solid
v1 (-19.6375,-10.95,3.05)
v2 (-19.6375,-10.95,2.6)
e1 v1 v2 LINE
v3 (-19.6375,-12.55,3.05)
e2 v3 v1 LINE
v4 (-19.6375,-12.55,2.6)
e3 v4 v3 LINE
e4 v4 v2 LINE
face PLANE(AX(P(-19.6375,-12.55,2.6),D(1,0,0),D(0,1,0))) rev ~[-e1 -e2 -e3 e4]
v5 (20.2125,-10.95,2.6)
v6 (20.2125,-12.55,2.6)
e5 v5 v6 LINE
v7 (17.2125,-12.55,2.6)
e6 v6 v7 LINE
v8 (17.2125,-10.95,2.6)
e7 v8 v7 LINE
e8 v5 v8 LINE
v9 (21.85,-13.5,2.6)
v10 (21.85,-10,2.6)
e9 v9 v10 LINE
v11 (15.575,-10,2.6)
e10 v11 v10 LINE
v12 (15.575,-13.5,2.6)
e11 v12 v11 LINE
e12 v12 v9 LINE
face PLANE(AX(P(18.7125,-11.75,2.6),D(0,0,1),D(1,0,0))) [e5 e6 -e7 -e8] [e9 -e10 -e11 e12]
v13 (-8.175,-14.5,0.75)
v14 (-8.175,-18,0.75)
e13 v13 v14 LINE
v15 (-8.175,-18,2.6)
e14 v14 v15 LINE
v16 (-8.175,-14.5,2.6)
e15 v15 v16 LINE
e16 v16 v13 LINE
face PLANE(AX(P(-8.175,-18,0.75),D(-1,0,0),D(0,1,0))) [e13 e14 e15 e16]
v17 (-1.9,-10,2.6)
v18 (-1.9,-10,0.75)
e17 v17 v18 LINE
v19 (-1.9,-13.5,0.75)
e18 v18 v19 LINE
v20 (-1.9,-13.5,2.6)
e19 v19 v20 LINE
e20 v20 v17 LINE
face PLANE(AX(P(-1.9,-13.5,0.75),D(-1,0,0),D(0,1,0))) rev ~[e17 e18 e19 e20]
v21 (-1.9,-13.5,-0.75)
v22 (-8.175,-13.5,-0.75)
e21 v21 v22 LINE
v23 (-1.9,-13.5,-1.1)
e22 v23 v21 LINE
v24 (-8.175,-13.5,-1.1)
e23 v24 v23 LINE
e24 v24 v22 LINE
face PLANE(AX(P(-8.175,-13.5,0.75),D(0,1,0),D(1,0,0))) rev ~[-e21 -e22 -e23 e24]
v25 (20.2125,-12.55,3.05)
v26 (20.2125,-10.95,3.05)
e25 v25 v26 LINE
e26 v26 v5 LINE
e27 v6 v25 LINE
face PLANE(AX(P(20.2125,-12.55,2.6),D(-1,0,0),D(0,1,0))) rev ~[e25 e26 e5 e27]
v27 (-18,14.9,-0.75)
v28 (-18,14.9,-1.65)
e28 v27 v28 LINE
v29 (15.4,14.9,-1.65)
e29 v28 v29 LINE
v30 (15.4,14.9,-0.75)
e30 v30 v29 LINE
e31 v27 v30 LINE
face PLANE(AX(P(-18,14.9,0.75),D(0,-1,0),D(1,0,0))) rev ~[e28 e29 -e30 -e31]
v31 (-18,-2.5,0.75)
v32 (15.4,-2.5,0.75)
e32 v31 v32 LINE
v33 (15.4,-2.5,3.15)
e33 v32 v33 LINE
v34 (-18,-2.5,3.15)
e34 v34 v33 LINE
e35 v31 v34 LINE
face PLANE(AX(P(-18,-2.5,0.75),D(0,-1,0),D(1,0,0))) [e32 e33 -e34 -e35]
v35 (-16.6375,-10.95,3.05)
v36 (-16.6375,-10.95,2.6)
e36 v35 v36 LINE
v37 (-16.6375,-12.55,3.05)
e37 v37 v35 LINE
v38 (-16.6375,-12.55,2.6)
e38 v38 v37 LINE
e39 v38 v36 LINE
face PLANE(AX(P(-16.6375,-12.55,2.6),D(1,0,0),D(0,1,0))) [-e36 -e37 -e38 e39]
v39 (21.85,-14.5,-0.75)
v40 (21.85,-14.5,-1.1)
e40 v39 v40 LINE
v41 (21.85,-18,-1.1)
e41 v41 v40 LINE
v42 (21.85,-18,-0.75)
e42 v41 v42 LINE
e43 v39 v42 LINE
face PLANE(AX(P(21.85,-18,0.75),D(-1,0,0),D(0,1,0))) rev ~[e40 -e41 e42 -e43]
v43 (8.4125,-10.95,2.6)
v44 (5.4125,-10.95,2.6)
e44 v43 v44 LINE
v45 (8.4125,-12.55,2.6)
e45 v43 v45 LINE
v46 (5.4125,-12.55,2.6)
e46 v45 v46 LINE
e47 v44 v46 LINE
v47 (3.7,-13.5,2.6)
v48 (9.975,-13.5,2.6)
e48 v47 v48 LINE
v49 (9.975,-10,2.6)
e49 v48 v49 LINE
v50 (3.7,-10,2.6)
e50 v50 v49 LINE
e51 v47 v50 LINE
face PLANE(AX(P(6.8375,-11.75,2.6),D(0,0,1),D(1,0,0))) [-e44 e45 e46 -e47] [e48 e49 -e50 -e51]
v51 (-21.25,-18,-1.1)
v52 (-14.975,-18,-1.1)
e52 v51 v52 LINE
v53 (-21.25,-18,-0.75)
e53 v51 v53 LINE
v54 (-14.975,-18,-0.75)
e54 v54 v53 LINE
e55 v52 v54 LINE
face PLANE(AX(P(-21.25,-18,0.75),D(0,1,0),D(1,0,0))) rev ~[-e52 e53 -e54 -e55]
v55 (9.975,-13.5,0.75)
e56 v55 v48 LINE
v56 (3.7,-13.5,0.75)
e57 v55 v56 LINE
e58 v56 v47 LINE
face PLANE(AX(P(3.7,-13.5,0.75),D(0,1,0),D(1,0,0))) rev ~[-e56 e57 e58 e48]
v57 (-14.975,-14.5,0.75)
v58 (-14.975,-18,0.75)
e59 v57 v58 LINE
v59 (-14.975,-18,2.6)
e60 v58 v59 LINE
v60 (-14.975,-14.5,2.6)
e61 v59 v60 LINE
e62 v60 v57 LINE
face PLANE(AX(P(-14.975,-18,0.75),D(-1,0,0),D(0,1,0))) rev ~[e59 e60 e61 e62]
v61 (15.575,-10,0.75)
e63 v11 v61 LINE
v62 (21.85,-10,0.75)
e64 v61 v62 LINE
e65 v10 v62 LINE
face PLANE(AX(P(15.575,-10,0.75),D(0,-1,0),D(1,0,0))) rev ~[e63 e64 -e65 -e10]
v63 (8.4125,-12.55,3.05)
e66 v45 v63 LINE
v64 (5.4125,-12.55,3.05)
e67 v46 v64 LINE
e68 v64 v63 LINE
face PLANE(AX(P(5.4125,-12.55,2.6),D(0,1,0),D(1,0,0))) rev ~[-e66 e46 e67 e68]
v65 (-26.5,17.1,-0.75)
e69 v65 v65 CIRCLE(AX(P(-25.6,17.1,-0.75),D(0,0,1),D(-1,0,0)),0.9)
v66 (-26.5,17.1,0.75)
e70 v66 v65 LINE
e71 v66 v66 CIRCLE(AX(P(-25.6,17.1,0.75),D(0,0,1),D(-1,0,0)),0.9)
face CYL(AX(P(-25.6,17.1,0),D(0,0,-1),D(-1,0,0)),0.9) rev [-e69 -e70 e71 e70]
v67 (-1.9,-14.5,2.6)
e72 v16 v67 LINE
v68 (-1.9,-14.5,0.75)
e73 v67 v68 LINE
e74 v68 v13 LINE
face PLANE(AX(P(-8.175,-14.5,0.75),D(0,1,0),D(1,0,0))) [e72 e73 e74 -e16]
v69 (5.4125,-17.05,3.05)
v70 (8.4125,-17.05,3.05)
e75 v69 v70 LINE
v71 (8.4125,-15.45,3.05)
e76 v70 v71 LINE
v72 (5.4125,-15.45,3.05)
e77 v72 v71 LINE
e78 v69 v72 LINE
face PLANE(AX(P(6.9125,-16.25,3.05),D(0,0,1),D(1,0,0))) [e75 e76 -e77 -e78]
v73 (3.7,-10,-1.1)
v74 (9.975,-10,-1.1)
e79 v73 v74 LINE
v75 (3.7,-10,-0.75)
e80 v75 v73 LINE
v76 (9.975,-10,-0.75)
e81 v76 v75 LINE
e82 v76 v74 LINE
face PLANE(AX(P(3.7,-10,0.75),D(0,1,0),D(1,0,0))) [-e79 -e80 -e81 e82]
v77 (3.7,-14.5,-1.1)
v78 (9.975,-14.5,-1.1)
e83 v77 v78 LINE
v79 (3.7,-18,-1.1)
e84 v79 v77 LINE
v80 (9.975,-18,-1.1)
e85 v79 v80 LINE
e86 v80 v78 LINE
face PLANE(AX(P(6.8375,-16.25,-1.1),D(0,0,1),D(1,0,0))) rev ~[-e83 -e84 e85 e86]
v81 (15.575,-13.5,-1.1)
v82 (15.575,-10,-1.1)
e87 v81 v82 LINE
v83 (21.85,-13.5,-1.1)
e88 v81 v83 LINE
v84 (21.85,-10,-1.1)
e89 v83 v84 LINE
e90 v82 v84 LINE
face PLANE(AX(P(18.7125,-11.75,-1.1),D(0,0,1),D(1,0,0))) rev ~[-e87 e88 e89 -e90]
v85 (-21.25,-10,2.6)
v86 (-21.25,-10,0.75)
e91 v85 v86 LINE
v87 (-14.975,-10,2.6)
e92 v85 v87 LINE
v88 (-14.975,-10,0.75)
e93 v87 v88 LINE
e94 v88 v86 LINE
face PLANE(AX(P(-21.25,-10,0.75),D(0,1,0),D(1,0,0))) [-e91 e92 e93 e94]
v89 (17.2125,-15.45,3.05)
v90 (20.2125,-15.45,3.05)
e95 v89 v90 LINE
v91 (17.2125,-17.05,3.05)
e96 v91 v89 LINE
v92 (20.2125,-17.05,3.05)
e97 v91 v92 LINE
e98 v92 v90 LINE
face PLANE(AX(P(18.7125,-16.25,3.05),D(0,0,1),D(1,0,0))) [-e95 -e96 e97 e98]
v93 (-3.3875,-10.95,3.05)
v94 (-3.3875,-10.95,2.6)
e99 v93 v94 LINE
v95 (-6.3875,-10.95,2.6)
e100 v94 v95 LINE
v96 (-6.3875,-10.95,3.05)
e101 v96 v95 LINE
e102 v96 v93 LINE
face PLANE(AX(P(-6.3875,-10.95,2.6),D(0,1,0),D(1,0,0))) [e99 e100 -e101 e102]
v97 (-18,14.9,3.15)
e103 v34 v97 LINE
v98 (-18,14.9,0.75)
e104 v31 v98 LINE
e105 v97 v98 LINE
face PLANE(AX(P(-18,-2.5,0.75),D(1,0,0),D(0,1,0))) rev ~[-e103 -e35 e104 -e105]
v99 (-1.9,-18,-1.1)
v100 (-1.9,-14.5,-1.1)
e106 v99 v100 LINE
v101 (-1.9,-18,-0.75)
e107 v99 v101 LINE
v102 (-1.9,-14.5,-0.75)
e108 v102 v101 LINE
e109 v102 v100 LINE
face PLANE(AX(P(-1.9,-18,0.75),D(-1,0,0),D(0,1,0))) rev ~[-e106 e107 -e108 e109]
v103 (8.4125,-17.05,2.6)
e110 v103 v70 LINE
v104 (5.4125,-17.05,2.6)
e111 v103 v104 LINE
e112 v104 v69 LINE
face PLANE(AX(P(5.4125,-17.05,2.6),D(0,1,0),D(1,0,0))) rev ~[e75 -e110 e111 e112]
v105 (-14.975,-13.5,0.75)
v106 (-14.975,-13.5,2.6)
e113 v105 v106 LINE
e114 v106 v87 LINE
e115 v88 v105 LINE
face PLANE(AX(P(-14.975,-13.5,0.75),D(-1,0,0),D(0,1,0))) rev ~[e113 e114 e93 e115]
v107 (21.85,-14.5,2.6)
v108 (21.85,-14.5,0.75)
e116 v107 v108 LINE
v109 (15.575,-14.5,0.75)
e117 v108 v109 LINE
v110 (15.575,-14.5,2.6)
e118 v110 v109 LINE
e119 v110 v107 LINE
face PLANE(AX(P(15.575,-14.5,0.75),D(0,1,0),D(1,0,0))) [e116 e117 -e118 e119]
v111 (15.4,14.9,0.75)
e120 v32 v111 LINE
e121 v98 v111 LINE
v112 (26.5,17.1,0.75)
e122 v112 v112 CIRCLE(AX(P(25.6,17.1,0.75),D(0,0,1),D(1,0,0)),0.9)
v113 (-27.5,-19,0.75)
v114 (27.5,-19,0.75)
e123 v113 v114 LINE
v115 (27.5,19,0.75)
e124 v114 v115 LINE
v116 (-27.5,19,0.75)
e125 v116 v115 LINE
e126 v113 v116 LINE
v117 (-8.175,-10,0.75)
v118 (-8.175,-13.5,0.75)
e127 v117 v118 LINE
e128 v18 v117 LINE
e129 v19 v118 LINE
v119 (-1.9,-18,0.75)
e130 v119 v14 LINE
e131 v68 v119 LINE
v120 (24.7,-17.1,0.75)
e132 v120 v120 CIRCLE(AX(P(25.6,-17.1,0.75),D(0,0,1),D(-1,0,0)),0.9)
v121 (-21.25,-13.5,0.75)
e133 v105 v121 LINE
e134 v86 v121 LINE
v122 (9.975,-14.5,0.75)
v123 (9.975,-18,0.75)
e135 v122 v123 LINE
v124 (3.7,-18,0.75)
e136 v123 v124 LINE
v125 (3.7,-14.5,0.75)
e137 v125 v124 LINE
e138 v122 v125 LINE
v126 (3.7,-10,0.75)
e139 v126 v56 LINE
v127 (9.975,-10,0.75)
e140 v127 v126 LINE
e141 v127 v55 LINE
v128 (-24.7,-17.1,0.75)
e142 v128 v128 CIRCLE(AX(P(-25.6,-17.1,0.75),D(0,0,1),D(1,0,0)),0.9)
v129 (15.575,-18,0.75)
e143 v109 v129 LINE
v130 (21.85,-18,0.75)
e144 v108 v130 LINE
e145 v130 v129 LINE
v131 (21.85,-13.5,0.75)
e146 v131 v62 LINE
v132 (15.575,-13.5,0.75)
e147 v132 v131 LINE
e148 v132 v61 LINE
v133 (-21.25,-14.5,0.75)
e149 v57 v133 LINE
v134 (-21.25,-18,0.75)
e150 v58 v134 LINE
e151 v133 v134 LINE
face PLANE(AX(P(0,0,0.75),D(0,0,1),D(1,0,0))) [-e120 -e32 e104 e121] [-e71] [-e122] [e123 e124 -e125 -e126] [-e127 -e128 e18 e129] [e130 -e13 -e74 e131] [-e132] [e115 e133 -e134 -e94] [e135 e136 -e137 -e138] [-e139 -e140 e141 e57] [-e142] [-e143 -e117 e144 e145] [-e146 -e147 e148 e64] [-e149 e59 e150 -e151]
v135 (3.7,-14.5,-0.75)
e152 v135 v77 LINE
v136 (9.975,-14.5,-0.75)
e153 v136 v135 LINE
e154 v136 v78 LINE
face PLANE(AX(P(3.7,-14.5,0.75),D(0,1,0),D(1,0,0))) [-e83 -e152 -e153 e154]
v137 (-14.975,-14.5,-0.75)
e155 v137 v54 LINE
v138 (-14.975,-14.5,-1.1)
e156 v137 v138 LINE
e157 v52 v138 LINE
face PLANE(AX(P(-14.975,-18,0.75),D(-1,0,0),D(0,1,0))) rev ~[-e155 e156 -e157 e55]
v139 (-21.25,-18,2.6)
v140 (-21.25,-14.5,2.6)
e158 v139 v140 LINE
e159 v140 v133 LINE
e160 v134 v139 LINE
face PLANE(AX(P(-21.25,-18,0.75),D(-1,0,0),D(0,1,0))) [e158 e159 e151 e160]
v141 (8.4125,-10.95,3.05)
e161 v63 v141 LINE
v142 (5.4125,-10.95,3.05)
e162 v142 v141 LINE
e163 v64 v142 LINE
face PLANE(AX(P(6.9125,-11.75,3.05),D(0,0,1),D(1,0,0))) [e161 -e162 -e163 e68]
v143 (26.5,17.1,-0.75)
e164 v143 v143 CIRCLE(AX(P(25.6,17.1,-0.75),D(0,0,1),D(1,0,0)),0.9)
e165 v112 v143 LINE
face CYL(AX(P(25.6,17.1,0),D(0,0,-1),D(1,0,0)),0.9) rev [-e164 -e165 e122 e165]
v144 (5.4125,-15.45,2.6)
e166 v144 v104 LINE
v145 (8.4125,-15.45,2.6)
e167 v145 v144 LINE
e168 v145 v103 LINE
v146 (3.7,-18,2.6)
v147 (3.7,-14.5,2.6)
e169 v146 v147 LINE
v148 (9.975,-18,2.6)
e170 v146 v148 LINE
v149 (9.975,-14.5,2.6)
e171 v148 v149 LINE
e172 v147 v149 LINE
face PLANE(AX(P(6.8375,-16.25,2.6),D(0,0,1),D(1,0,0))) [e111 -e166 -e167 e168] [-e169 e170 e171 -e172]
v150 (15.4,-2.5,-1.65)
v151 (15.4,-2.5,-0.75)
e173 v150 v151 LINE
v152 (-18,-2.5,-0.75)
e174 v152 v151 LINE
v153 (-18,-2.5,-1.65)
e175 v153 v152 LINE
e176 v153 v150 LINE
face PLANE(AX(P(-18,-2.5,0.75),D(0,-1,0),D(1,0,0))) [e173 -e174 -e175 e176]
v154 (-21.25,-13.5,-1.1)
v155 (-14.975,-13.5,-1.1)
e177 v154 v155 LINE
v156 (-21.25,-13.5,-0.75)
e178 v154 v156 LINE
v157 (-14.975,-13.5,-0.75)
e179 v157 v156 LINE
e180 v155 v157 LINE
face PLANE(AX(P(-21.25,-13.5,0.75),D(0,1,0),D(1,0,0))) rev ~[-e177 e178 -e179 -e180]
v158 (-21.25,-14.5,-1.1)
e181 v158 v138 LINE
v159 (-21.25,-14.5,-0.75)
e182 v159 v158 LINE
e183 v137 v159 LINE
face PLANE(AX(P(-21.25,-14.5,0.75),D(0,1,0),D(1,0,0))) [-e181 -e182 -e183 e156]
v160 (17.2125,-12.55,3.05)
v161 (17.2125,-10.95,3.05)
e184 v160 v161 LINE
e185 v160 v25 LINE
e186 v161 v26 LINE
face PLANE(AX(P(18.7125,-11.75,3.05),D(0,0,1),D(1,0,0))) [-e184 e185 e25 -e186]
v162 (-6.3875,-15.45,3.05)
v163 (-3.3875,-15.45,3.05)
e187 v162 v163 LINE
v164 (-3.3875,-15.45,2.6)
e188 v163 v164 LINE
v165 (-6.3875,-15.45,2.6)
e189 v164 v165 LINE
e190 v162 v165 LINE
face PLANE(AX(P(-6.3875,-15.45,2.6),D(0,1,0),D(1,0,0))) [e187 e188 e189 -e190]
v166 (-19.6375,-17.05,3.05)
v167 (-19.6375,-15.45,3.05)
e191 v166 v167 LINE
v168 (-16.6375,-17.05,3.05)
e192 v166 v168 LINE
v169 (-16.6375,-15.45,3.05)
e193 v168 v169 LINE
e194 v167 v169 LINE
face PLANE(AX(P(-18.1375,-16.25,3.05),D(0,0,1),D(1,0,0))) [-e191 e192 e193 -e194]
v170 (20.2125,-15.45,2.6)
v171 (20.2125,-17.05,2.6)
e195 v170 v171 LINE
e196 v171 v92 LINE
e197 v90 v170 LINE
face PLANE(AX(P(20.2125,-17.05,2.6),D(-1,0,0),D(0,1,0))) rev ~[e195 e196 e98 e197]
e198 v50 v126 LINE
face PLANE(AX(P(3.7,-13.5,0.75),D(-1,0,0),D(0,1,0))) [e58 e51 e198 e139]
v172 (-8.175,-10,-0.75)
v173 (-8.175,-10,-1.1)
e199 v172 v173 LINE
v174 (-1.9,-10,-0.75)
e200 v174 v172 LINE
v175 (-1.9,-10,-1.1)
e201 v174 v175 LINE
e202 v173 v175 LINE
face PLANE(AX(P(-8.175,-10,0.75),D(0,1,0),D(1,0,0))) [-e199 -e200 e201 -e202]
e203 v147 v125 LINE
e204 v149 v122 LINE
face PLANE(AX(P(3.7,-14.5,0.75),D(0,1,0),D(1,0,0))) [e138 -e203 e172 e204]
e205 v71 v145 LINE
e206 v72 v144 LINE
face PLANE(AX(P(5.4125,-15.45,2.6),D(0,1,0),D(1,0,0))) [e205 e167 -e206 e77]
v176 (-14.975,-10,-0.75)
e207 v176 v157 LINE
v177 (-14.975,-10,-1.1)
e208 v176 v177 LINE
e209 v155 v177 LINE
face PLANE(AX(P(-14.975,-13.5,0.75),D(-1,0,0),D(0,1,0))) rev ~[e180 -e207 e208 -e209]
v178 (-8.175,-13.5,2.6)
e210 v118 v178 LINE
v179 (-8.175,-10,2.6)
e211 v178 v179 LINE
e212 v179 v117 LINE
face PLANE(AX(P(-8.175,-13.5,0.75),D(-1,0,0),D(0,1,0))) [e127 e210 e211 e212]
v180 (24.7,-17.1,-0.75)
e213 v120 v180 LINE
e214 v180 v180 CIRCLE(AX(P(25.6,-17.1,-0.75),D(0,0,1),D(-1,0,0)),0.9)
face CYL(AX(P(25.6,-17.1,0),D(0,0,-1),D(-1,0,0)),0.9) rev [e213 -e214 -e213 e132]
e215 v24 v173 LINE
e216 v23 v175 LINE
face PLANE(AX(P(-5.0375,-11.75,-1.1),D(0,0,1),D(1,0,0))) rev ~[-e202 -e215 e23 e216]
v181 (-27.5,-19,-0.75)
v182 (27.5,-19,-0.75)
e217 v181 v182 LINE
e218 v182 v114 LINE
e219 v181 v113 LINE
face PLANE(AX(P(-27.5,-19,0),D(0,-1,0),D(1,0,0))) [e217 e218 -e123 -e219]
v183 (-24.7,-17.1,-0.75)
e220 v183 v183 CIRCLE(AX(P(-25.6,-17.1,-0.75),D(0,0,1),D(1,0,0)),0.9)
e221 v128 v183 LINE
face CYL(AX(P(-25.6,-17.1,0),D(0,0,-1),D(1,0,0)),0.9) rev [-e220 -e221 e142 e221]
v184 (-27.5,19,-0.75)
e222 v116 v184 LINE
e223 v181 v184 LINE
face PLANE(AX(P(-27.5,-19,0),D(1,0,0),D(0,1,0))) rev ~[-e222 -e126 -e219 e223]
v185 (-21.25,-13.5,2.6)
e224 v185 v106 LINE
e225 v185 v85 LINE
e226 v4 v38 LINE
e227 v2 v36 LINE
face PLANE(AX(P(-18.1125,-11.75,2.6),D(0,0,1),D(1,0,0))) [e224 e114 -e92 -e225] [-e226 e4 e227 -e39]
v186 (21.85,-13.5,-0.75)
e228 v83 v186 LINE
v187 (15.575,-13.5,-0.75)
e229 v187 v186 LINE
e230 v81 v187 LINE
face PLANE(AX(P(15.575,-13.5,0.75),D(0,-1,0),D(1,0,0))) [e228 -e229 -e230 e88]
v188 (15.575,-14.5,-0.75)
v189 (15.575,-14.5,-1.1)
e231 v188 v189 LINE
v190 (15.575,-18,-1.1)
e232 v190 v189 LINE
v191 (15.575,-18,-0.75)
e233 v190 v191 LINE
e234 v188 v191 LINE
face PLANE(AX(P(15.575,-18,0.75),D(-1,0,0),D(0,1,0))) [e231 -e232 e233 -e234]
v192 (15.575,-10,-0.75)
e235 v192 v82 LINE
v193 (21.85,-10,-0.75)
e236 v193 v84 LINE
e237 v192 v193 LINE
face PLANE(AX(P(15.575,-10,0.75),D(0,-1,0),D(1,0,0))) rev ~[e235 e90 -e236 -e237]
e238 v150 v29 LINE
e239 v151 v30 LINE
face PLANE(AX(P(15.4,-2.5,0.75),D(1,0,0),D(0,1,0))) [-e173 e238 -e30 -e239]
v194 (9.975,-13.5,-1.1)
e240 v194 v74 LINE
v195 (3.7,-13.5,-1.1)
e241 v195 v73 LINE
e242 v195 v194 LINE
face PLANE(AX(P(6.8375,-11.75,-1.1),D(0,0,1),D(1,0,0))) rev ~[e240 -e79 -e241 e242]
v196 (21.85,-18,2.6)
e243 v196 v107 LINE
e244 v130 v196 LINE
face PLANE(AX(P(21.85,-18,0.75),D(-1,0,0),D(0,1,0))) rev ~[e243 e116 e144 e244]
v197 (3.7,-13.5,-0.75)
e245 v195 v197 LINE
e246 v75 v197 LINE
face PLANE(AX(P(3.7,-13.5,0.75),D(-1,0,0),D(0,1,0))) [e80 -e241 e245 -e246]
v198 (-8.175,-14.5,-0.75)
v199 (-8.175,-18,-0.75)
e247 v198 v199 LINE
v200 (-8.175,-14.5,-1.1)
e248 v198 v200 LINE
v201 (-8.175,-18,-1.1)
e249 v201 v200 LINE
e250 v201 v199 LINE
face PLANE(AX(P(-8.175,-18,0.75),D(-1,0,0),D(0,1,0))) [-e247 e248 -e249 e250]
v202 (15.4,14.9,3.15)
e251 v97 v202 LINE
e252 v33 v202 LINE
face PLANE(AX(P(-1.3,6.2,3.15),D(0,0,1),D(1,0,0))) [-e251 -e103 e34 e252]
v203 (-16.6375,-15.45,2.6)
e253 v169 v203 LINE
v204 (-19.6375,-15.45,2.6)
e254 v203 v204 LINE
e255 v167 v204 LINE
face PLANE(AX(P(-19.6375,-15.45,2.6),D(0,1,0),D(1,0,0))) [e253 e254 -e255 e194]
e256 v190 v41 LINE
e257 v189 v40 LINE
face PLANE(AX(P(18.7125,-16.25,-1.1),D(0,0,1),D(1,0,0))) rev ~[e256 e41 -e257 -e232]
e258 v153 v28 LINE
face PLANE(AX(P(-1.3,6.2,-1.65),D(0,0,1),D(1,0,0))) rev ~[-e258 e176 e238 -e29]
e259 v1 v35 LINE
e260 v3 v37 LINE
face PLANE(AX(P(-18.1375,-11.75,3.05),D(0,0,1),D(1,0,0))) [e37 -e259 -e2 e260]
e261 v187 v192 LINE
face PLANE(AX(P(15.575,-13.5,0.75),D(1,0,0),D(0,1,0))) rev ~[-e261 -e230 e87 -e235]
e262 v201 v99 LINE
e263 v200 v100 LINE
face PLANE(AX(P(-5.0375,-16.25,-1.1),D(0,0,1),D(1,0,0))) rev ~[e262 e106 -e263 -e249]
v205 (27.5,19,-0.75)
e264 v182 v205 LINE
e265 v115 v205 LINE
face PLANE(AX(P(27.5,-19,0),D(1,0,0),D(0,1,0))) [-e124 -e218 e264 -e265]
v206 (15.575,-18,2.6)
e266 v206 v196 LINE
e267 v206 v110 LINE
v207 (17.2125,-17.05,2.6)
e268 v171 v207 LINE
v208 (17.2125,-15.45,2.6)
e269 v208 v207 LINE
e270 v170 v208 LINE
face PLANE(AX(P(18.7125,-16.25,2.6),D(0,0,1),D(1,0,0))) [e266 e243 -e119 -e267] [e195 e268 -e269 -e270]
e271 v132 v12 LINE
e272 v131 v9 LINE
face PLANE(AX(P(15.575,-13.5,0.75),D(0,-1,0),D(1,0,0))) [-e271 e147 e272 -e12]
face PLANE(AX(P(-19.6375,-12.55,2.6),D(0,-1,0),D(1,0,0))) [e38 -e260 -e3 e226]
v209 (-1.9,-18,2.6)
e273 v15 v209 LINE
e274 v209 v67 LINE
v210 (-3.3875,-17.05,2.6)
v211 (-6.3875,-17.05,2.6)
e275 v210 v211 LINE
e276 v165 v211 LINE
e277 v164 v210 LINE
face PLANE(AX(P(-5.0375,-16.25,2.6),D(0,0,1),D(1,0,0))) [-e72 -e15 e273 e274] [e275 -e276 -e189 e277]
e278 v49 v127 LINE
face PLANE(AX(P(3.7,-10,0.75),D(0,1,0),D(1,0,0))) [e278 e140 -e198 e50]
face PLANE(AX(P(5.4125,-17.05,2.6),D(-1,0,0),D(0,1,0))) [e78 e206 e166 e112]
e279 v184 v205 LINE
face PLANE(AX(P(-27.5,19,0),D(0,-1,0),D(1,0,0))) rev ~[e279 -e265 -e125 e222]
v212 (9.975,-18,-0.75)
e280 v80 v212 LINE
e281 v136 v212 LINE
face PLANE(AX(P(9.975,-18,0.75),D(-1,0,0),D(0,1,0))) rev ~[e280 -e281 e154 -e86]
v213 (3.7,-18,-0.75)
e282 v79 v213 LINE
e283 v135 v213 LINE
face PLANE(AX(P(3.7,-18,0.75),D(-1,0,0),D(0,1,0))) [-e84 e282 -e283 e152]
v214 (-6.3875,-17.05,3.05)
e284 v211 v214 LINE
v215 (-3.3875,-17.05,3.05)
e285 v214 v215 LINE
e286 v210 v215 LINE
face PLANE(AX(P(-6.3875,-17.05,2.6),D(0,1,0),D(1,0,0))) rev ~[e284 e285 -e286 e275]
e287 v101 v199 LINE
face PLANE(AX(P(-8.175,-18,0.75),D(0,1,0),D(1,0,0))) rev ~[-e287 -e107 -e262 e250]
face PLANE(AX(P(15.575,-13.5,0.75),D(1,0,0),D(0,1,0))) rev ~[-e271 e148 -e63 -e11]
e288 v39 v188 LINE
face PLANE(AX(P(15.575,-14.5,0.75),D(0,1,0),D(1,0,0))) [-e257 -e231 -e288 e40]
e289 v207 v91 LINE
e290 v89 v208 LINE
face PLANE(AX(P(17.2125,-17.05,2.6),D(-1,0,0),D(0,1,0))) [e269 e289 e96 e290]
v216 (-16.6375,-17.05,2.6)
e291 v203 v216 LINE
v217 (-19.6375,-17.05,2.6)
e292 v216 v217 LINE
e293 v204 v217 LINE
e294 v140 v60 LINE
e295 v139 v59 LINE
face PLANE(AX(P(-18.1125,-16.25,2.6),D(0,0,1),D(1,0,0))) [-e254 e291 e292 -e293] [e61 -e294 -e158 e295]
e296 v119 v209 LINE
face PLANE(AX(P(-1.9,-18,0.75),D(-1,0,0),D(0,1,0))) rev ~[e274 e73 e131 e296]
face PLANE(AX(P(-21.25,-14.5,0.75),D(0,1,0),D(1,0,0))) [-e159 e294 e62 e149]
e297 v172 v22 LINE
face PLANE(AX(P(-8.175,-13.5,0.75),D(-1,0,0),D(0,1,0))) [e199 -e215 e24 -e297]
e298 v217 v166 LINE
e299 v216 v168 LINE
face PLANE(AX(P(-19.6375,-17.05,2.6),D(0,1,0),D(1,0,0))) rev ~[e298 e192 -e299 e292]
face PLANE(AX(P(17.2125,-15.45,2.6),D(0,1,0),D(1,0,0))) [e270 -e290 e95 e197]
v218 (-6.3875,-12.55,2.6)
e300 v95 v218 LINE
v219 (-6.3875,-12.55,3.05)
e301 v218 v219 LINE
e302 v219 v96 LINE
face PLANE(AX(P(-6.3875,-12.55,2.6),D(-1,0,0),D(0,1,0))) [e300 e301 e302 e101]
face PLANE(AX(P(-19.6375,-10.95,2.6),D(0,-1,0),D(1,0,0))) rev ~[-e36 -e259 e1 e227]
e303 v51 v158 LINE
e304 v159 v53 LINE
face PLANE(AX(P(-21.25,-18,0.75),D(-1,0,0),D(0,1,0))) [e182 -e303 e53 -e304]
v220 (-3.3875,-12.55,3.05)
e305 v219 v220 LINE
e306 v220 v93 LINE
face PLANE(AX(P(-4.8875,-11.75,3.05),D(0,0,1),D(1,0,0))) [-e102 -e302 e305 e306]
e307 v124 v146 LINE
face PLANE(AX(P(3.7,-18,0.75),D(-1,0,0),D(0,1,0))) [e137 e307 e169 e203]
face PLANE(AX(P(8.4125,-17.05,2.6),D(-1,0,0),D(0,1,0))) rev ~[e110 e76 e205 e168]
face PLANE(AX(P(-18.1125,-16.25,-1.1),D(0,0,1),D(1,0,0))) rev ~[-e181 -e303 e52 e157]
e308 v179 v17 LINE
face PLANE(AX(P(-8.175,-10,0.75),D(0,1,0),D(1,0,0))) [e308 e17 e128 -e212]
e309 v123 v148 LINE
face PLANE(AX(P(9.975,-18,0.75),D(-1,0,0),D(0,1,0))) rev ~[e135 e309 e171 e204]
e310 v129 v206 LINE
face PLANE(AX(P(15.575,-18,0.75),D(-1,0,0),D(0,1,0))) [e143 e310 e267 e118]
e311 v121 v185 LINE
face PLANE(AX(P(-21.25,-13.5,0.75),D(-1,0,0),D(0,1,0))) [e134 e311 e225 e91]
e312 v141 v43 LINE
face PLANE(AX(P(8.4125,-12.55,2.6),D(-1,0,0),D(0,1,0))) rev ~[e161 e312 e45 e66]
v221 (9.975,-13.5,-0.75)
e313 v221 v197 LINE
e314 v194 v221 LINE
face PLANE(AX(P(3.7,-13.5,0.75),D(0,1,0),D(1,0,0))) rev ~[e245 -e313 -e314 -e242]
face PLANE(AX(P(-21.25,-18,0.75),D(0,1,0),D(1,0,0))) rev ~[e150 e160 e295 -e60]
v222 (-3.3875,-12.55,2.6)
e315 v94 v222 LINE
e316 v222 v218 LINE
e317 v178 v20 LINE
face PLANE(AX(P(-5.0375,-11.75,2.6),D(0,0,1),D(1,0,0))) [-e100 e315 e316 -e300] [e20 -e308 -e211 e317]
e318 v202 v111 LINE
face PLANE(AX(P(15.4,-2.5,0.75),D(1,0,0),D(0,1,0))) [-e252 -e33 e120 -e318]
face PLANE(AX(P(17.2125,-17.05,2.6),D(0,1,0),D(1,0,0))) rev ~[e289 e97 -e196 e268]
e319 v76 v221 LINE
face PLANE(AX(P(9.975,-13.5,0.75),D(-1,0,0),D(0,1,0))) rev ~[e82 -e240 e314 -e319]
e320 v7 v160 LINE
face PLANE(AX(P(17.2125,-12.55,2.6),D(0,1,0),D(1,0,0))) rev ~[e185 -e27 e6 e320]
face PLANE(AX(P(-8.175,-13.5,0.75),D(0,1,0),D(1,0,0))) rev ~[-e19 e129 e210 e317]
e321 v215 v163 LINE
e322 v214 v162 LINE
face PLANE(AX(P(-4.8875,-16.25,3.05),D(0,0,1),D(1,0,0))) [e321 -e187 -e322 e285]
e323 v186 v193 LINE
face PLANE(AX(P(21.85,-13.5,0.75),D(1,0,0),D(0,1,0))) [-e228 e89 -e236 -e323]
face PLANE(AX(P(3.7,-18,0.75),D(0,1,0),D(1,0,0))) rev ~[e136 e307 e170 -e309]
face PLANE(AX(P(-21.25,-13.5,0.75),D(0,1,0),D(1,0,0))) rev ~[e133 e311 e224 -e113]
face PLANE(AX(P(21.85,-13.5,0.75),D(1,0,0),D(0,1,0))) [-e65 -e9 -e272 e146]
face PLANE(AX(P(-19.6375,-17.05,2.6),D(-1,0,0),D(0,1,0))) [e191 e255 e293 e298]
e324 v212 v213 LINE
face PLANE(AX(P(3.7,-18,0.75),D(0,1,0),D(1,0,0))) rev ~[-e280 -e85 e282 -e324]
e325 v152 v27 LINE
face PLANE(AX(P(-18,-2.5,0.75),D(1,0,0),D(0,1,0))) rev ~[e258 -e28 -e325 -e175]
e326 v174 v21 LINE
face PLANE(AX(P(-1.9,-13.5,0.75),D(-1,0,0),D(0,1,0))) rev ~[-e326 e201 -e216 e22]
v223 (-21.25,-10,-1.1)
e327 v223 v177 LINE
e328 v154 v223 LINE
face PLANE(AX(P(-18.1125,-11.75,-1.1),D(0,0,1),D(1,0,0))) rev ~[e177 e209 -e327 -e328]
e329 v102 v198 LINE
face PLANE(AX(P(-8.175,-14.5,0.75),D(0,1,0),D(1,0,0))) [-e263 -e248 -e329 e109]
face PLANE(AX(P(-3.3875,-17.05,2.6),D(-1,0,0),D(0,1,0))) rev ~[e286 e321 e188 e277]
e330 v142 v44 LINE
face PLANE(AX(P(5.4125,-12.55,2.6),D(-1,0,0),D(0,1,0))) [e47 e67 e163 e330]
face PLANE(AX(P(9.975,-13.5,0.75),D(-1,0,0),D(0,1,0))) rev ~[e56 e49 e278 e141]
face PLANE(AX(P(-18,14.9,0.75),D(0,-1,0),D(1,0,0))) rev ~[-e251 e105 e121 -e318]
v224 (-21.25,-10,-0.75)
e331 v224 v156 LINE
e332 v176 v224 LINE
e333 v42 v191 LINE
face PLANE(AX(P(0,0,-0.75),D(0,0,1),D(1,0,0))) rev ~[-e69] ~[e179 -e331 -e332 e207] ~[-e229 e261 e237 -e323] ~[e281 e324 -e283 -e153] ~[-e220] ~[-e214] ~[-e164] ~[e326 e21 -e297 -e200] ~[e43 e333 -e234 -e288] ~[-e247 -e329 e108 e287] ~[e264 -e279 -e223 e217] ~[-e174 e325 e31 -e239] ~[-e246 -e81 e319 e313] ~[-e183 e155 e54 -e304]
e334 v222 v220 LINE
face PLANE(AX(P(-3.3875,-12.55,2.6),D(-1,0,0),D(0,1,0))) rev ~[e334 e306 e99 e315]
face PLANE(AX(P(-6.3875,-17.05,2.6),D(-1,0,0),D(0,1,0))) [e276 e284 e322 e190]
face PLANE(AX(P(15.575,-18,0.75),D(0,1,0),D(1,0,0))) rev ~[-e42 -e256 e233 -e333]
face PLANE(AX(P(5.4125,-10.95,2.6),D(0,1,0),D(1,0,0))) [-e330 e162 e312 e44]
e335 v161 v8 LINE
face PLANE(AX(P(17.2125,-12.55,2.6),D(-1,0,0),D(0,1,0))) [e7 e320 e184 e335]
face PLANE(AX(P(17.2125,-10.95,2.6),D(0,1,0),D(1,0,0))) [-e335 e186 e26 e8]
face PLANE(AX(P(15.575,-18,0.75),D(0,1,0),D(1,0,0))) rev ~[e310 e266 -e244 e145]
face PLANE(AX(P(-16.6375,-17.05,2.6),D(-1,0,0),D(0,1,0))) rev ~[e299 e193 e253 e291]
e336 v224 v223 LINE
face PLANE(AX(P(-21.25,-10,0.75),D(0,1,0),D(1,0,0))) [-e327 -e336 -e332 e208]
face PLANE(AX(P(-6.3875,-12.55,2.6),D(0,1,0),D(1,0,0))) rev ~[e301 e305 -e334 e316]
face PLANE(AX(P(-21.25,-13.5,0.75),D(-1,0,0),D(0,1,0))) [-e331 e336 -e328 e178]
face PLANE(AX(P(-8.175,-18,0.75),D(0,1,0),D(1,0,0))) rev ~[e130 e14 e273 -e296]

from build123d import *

# Parameters (mm, degrees)
SKETCH1_W           = 55
SKETCH1_H           = 38
SKETCH1_R           = 0.9
BOSS_EXTRUDE1_DEPTH = 0.75
SKETCH2_W           = 33.4
SKETCH2_H           = 17.4
BOSS_EXTRUDE2_DEPTH = 2.4
SKETCH4_W           = 6.275
SKETCH4_H           = 3.5
BOSS_EXTRUDE3_DEPTH = 1.85
SKETCH6_W           = 3
SKETCH6_H           = 1.6
BOSS_EXTRUDE4_DEPTH = 0.45


with BuildPart() as part:
    # Sketch1 → Boss-Extrude1 (new, symmetric)
    with BuildSketch(Plane.XY):
        Rectangle(SKETCH1_W, SKETCH1_H)
        with Locations((25.6, 17.1)):
            Circle(SKETCH1_R, mode=Mode.SUBTRACT)
        with Locations(Location((-25.6, 17.1, 0), (0, 0, 180))):
            Circle(SKETCH1_R, mode=Mode.SUBTRACT)
        with Locations(Location((25.6, -17.1, 0), (0, 0, 180))):
            Circle(SKETCH1_R, mode=Mode.SUBTRACT)
        with Locations((-25.6, -17.1)):
            Circle(SKETCH1_R, mode=Mode.SUBTRACT)
    extrude(amount=BOSS_EXTRUDE1_DEPTH, both=True)

    # Sketch2 → Boss-Extrude2 (add, symmetric)
    with BuildSketch(Plane.XY.offset(0.75)):
        with Locations((-1.3, 6.2)):
            Rectangle(SKETCH2_W, SKETCH2_H)
    extrude(amount=BOSS_EXTRUDE2_DEPTH, both=True)

    # Sketch4 → Boss-Extrude3 (add, symmetric)
    with BuildSketch(Plane.XY.offset(0.75)):
        with Locations((18.7125, -16.25)):
            Rectangle(SKETCH4_W, SKETCH4_H)
        with Locations((-18.1125, -16.25)):
            Rectangle(SKETCH4_W, SKETCH4_H)
        with Locations((6.8375, -16.25)):
            Rectangle(SKETCH4_W, SKETCH4_H)
        with Locations((-5.0375, -16.25)):
            Rectangle(SKETCH4_W, SKETCH4_H)
        with Locations((-18.1125, -11.75)):
            Rectangle(SKETCH4_W, SKETCH4_H)
        with Locations((-5.0375, -11.75)):
            Rectangle(SKETCH4_W, SKETCH4_H)
        with Locations((6.8375, -11.75)):
            Rectangle(SKETCH4_W, SKETCH4_H)
        with Locations((18.7125, -11.75)):
            Rectangle(SKETCH4_W, SKETCH4_H)
    extrude(amount=BOSS_EXTRUDE3_DEPTH, both=True)

    # Sketch6 → Boss-Extrude4 (add, symmetric)
    with BuildSketch(Plane.XY.offset(2.6)):
        with Locations((18.7125, -16.25)):
            Rectangle(SKETCH6_W, SKETCH6_H)
        with Locations((6.9125, -16.25)):
            Rectangle(SKETCH6_W, SKETCH6_H)
        with Locations((-4.8875, -16.25)):
            Rectangle(SKETCH6_W, SKETCH6_H)
        with Locations((6.9125, -11.75)):
            Rectangle(SKETCH6_W, SKETCH6_H)
        with Locations((-4.8875, -11.75)):
            Rectangle(SKETCH6_W, SKETCH6_H)
        with Locations((18.7125, -11.75)):
            Rectangle(SKETCH6_W, SKETCH6_H)
        with Locations((-18.1375, -16.25)):
            Rectangle(SKETCH6_W, SKETCH6_H)
        with Locations((-18.1375, -11.75)):
            Rectangle(SKETCH6_W, SKETCH6_H)
    extrude(amount=BOSS_EXTRUDE4_DEPTH, both=True)


solid = part.part
